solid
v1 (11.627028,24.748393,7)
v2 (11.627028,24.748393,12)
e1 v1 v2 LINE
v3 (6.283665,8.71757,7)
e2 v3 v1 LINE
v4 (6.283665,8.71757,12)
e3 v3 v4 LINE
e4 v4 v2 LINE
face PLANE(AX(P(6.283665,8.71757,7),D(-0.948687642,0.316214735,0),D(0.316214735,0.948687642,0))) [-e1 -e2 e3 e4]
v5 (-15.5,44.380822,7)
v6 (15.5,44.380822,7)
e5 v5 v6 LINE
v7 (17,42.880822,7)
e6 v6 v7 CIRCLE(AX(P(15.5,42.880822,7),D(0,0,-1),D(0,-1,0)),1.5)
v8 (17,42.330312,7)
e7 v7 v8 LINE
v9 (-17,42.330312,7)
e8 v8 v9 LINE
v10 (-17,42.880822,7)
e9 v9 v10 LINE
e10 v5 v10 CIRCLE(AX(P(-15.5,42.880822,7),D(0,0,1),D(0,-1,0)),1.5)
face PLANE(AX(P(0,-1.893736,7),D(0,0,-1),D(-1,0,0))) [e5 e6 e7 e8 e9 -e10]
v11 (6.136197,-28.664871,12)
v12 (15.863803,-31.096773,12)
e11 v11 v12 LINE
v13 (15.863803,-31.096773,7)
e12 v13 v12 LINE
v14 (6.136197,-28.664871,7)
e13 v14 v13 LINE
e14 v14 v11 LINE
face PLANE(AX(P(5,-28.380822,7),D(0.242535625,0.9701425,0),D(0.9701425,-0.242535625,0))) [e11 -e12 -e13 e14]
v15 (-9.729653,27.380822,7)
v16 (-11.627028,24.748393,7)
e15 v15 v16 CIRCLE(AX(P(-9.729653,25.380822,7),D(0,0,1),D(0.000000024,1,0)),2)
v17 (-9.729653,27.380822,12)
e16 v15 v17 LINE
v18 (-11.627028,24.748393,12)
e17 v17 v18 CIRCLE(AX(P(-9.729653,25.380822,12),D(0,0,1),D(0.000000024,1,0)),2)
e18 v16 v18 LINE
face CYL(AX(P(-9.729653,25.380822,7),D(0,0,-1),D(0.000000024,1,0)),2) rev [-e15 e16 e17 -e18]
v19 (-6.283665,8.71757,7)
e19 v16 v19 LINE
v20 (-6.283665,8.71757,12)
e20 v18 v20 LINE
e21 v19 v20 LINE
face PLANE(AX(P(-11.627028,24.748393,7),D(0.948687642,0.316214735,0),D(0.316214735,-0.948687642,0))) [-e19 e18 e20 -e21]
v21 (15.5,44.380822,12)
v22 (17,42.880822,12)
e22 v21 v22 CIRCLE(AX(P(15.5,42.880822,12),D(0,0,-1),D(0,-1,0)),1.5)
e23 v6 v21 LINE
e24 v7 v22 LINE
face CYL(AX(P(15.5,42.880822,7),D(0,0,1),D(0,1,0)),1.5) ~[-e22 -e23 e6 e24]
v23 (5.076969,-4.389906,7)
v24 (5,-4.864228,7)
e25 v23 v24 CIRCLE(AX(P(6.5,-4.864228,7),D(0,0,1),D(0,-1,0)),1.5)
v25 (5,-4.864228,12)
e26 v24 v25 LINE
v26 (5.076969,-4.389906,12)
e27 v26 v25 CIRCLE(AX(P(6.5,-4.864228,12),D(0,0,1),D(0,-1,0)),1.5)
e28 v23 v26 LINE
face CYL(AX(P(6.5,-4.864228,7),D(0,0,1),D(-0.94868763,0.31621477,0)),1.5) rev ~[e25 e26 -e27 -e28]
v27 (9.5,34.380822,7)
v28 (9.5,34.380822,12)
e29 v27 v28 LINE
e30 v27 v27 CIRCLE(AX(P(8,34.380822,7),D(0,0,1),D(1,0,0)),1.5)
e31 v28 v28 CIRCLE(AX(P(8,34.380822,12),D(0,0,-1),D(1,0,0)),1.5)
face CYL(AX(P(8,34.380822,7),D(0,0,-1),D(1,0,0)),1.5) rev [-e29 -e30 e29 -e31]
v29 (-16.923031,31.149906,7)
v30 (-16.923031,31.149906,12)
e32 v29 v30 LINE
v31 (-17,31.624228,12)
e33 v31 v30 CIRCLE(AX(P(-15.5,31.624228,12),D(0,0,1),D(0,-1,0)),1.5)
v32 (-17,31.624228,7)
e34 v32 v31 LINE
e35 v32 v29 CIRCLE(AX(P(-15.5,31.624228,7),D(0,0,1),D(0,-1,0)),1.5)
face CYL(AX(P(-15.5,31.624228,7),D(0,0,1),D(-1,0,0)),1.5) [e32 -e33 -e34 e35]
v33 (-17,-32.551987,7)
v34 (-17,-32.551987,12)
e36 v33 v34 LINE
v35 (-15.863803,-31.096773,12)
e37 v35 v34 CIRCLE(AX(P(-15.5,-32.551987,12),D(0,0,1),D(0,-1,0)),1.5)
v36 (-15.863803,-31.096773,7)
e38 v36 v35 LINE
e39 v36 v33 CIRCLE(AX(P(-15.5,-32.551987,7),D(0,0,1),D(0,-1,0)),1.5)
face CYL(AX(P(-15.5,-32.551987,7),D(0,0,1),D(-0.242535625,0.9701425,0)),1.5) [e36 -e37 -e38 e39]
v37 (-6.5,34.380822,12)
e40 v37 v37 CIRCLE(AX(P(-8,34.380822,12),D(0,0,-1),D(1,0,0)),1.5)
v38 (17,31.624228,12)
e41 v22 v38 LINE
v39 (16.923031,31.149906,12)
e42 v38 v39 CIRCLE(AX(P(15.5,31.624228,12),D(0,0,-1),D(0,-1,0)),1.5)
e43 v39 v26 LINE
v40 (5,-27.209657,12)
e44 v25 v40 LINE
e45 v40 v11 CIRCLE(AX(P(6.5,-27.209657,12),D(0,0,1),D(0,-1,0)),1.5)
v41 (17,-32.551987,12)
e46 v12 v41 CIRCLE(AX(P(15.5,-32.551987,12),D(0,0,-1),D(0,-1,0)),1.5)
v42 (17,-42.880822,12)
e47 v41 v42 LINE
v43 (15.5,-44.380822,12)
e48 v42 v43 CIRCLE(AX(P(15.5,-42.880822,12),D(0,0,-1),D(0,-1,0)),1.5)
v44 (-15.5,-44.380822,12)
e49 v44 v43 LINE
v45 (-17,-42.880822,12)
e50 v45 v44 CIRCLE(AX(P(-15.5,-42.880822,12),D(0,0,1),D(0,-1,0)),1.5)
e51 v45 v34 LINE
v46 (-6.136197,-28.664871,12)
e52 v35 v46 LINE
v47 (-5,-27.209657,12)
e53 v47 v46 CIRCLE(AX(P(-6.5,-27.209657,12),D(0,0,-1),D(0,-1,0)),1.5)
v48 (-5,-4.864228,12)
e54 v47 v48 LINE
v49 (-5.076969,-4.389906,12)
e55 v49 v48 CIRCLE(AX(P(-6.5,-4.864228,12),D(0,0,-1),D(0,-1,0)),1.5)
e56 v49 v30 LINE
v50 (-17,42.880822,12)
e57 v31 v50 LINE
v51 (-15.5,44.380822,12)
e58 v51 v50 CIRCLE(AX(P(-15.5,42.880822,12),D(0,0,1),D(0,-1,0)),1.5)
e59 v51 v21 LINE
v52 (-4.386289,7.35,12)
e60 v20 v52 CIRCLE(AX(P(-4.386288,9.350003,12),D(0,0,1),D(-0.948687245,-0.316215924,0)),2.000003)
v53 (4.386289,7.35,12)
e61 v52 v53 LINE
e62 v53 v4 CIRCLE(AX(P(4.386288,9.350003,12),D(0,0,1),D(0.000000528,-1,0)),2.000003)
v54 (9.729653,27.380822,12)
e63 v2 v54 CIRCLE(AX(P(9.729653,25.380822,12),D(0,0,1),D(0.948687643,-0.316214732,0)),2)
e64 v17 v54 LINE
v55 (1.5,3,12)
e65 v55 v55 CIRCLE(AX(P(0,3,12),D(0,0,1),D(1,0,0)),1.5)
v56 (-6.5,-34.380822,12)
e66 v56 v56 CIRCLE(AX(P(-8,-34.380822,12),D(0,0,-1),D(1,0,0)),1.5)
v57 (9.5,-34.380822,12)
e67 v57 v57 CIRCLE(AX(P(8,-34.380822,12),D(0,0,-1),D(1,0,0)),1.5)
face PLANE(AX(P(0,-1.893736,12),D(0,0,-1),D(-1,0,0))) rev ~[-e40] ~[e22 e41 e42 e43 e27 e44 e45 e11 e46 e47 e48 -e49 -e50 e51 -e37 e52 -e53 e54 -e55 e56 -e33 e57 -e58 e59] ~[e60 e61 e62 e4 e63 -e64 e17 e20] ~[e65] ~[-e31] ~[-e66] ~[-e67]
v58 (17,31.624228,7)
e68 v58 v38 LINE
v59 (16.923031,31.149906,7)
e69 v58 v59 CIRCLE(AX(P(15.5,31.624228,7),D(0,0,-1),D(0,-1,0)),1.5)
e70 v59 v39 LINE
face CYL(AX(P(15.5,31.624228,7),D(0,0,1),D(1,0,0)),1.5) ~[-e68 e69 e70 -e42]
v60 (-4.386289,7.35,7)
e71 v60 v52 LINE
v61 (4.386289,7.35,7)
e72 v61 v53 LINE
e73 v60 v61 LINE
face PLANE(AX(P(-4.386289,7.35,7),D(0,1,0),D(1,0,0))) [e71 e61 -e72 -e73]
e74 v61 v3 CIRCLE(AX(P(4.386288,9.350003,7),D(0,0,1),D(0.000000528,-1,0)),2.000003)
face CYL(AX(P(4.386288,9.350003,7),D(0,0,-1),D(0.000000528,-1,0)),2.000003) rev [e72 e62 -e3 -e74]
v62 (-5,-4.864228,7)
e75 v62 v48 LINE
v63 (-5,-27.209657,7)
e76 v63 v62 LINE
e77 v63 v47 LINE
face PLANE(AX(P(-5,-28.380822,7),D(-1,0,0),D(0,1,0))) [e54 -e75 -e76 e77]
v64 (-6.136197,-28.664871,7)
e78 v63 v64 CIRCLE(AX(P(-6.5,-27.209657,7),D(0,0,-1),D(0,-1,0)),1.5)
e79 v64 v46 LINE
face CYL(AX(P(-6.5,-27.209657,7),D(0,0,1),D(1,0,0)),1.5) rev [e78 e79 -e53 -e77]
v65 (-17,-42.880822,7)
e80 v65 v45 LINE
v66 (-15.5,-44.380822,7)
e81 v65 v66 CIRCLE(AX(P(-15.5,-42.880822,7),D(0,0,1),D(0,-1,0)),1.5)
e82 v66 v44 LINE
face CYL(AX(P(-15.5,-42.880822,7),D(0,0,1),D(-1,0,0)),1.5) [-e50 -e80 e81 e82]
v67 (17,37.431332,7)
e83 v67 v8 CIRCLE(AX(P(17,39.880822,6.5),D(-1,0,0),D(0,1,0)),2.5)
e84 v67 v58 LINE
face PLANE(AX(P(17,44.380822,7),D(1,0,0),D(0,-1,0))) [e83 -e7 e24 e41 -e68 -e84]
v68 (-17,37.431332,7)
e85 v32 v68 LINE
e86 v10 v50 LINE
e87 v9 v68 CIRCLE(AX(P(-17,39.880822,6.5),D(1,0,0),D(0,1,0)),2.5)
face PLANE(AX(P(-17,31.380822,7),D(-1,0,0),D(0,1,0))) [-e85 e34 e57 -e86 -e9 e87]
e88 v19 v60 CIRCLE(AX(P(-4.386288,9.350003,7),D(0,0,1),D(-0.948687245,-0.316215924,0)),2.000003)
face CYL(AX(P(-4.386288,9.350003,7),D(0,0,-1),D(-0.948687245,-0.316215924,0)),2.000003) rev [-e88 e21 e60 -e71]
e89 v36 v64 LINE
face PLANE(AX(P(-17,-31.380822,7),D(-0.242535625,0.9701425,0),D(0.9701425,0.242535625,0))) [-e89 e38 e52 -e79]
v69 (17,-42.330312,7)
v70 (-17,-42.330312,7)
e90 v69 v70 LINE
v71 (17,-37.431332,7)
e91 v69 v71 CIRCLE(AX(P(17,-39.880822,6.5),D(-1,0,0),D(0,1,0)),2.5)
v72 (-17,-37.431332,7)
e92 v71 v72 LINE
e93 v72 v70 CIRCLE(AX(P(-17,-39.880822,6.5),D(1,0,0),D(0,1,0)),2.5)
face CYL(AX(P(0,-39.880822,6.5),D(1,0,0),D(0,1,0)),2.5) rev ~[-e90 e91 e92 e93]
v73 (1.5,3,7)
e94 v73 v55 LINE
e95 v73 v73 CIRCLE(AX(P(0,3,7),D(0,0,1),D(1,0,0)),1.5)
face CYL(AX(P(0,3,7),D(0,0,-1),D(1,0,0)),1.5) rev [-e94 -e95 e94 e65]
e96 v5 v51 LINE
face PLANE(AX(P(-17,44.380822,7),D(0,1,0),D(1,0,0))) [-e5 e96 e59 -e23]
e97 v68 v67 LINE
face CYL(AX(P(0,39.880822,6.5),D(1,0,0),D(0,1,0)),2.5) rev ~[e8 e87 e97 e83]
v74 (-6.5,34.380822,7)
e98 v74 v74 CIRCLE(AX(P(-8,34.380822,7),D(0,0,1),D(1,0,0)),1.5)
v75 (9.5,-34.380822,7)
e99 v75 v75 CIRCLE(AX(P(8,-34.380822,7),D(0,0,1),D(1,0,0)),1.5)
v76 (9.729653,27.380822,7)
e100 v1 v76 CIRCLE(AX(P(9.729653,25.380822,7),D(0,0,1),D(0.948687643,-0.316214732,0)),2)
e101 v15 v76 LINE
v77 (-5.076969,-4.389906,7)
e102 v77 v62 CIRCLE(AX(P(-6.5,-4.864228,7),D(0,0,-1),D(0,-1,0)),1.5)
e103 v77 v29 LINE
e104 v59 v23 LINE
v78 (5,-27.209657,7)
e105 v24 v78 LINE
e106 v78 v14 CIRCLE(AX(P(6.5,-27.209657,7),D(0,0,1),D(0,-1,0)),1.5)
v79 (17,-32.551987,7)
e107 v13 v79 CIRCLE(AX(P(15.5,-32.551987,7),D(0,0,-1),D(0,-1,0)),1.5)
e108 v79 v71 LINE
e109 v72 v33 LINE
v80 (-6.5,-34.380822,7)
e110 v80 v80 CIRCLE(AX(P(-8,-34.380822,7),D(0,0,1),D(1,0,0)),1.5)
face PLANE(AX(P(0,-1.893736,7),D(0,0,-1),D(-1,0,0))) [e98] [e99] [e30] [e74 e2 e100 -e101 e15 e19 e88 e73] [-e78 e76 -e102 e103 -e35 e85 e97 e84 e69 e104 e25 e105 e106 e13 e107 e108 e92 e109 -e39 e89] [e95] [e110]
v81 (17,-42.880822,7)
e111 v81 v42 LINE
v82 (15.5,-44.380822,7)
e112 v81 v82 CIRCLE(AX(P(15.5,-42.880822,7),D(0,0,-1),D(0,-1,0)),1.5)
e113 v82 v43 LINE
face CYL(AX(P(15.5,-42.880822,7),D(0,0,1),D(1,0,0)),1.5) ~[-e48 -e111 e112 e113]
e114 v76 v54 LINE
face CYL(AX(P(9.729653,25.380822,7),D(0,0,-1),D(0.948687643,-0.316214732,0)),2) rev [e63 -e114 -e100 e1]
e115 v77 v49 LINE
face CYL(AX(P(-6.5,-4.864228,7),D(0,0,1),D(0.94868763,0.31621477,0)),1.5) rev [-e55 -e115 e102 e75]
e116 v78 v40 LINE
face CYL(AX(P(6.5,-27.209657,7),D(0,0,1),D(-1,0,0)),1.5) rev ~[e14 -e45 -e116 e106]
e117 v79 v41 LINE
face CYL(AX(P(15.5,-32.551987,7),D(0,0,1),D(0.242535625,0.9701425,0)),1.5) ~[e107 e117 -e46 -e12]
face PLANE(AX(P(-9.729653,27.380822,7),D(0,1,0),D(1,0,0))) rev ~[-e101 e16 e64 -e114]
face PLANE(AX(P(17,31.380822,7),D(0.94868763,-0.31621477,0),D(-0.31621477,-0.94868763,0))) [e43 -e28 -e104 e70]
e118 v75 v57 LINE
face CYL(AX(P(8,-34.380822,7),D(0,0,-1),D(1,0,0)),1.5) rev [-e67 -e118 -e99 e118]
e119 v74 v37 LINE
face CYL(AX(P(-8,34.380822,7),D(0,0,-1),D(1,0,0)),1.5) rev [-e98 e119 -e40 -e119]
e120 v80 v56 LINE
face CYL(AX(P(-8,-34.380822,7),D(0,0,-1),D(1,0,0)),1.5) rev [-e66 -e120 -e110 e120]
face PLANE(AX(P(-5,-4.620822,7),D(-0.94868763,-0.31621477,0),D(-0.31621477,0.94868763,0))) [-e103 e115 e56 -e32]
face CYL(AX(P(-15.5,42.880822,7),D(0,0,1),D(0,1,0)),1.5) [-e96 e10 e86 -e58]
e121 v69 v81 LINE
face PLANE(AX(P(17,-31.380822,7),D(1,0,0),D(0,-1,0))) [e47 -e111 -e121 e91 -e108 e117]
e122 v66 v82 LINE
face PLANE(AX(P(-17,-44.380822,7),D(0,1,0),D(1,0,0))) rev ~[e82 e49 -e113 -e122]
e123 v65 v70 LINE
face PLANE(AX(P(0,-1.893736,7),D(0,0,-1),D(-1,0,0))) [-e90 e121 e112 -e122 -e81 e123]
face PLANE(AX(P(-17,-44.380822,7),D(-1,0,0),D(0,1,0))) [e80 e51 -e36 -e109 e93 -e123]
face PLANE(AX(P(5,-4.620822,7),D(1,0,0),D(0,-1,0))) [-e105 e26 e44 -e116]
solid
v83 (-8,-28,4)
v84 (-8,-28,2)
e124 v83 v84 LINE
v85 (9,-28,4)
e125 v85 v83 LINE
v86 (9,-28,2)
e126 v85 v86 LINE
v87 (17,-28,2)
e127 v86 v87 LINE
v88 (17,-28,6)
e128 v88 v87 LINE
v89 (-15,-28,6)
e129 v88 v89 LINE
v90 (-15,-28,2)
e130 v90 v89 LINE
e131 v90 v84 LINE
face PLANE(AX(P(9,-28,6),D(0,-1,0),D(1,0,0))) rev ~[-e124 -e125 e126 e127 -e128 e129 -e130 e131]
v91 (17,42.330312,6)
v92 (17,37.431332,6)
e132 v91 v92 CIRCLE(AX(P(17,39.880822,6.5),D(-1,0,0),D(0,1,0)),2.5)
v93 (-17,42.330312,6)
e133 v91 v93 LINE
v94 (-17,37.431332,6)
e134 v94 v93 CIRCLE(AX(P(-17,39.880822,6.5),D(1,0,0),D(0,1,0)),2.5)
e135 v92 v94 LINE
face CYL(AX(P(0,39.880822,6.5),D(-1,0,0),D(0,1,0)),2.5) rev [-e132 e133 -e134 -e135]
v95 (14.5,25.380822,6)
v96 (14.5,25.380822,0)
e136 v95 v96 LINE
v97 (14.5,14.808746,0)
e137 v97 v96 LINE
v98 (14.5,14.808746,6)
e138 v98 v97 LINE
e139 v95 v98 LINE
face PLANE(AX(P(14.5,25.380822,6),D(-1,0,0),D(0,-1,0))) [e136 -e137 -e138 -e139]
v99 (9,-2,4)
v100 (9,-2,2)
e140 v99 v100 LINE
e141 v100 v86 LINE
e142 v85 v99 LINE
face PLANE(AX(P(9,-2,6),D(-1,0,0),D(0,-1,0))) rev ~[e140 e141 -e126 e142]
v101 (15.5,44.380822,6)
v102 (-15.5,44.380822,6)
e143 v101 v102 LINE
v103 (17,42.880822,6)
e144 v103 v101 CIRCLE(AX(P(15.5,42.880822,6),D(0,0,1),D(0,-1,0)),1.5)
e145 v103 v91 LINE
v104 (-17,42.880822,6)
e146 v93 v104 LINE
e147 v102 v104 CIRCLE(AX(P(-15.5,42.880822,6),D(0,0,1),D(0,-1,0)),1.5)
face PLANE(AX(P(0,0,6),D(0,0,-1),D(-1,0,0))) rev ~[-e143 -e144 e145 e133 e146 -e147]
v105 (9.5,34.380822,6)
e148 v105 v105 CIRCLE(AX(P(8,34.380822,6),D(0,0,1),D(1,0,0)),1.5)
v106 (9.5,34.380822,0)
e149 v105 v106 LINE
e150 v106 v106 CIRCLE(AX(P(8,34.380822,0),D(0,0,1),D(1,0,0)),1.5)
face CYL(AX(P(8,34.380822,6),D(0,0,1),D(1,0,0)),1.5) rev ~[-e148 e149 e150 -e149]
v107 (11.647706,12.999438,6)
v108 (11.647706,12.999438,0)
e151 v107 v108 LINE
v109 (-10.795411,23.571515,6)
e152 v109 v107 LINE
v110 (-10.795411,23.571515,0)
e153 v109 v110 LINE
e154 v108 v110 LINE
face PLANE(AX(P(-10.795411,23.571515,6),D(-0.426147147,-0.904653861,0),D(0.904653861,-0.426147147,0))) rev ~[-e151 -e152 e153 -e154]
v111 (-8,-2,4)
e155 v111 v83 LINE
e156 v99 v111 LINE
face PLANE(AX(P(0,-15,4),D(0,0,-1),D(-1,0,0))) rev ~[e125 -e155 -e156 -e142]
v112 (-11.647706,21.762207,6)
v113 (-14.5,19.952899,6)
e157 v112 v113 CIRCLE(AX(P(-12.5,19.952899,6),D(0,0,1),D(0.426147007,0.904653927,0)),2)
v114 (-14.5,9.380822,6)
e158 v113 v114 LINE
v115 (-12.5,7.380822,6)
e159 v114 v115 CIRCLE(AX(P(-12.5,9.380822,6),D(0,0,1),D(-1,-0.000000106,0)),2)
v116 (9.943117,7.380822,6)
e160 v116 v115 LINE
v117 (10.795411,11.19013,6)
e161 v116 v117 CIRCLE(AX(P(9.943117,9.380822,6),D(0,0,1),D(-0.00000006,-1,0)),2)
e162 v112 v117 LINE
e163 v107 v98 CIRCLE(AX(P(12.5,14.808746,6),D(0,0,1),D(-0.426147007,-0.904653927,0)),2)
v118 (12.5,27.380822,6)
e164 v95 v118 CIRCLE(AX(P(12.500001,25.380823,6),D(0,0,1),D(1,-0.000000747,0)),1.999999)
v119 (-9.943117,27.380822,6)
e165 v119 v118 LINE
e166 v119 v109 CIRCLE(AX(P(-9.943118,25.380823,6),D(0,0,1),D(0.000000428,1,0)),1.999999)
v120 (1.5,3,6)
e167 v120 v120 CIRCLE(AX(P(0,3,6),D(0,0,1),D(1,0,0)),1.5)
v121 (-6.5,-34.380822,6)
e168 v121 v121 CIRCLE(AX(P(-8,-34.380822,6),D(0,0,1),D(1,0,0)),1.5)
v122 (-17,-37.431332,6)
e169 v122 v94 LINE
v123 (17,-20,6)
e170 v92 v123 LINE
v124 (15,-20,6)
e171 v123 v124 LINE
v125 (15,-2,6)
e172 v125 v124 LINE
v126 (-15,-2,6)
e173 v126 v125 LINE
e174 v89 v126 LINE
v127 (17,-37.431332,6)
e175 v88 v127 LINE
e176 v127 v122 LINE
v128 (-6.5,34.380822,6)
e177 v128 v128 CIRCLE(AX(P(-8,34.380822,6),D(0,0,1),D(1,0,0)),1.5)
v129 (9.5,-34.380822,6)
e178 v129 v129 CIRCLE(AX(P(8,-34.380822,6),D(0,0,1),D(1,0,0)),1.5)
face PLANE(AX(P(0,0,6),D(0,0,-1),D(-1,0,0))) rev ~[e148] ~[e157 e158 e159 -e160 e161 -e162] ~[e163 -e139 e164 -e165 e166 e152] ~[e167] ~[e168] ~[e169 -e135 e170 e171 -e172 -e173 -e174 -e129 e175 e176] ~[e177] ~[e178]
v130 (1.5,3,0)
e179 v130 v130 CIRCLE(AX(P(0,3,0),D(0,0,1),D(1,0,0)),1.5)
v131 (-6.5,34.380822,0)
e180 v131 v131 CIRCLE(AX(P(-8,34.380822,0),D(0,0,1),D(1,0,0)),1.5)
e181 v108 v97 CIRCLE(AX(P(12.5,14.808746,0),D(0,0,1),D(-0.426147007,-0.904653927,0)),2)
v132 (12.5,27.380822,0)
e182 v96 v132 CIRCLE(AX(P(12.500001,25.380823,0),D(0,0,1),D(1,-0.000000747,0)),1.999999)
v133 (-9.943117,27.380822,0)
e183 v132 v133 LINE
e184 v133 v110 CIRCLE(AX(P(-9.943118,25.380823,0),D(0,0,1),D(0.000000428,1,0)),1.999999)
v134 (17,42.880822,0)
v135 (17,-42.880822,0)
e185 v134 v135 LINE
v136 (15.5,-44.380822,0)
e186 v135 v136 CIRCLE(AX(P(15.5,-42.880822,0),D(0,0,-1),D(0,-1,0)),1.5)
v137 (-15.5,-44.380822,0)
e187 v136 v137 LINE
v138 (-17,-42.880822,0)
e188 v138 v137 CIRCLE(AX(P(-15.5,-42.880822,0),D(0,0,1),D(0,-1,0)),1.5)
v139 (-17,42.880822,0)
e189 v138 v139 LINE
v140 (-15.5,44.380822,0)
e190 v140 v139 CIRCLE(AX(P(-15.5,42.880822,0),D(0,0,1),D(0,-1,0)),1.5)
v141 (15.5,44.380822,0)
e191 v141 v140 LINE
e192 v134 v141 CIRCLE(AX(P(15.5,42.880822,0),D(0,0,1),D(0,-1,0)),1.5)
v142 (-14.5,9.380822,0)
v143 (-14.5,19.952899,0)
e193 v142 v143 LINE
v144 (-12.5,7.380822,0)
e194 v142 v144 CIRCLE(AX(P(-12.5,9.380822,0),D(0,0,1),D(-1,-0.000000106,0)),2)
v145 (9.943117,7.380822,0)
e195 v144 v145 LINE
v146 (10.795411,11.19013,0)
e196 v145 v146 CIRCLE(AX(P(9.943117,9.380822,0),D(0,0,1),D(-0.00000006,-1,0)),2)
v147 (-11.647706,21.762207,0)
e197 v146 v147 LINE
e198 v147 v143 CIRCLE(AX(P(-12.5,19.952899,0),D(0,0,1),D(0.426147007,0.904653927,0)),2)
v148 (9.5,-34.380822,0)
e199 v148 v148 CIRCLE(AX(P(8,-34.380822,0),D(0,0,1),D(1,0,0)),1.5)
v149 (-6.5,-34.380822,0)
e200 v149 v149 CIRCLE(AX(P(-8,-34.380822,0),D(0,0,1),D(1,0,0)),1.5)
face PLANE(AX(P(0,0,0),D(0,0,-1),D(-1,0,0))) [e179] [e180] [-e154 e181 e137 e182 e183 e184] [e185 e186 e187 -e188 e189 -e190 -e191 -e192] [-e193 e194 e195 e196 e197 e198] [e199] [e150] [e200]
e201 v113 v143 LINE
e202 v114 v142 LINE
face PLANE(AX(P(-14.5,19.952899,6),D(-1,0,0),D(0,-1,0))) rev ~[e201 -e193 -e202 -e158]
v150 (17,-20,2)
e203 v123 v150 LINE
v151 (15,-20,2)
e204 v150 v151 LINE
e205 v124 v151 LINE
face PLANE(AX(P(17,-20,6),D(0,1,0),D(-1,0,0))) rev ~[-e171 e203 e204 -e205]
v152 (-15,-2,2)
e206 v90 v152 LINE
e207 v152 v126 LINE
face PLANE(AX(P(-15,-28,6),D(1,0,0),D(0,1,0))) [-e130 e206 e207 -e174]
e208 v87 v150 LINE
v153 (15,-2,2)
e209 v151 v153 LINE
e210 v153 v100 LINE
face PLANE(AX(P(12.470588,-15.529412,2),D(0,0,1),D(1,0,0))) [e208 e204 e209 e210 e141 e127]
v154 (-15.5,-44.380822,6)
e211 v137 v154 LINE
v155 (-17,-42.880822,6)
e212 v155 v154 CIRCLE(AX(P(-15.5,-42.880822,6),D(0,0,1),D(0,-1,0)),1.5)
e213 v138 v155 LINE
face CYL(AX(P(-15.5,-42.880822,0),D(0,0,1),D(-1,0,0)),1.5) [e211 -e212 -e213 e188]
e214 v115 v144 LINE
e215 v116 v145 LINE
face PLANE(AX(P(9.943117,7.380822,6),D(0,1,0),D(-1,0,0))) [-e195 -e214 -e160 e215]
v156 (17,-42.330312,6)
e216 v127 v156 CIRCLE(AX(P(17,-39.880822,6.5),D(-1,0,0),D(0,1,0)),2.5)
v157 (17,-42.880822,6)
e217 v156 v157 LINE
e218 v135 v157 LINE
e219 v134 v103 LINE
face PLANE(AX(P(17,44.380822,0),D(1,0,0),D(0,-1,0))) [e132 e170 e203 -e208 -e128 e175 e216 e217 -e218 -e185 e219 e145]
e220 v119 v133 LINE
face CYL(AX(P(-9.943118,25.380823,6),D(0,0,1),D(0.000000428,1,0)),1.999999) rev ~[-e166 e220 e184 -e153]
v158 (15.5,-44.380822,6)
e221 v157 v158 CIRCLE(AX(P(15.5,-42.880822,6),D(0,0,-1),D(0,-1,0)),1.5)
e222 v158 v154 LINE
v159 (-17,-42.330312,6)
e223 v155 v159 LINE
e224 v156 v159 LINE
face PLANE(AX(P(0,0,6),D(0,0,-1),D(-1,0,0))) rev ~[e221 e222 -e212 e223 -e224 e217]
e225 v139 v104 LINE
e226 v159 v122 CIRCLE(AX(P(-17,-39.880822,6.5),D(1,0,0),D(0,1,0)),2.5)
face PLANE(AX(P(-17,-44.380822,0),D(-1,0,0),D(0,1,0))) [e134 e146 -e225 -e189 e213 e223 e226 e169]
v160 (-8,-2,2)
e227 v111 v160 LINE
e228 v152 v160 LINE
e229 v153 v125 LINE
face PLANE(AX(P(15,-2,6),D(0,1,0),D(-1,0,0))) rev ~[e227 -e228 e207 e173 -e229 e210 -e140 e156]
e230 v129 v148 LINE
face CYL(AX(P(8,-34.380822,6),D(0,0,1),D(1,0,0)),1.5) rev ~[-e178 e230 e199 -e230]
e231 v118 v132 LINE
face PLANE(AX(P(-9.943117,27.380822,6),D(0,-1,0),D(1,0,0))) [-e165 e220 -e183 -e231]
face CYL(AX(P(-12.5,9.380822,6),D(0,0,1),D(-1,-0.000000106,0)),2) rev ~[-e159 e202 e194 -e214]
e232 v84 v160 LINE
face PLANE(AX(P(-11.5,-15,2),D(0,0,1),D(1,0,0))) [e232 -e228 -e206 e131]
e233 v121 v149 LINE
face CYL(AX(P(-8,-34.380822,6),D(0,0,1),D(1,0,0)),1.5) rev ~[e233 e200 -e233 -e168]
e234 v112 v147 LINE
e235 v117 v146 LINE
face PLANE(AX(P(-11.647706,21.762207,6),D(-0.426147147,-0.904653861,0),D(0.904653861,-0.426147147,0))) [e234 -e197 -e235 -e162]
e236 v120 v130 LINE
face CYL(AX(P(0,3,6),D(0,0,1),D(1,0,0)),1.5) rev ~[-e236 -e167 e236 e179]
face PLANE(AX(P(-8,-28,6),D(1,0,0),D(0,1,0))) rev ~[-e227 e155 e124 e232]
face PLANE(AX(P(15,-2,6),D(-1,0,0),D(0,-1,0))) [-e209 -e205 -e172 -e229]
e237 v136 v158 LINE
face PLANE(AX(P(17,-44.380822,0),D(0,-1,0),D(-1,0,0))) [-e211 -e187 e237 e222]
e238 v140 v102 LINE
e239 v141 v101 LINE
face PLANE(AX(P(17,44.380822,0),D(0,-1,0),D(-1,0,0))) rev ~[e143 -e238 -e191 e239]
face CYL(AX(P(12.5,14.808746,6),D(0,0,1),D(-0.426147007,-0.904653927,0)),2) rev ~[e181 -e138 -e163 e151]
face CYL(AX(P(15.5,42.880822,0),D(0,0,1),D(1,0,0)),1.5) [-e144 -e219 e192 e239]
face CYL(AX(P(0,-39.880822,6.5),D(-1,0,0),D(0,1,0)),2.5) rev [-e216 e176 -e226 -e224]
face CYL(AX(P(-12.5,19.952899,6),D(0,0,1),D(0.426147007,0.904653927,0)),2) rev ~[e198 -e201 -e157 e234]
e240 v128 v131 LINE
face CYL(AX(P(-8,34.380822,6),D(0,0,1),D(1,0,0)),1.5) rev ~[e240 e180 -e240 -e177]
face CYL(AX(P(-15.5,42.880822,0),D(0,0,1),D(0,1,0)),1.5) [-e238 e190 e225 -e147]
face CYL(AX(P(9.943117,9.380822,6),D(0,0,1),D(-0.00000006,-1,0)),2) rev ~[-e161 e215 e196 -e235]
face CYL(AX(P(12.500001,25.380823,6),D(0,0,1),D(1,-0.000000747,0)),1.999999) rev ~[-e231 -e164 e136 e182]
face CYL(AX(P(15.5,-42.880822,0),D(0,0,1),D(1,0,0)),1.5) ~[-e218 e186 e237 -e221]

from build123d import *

# Parameters (mm, degrees)
PAD_DEPTH            = 6
POCKET_DEPTH         = 2
SKETCH002_W          = 7
SKETCH002_H          = 26
POCKET001_DEPTH      = 4
SKETCH003_R          = 1.5
POCKET002_DEPTH      = 6.001
SKETCH004_R          = 2.5
POCKET003_DEPTH      = 17.001
POCKET003_DEPTH_BACK = -17.001
FILLET_R             = 1.5
SKETCH005_R          = 1.5
POCKET004_DEPTH      = 6.001
SKETCH006_R          = 1.5
PAD001_DEPTH         = 5
SKETCH007_R          = 2.5
POCKET005_DEPTH      = 17.001
POCKET005_DEPTH_BACK = -17.001
SKETCH009_R          = 1.5
POCKET006_DEPTH      = 0.001
POCKET006_DEPTH_BACK = -5.001
FILLET001_R          = 1.5


with BuildPart() as body:
    # Sketch → Pad (new body)
    with BuildSketch(Plane.XY):
        Polygon((17, 44.380822), (17, -44.380822), (-17, -44.380822), (-17, 44.380822), (0, 44.380822), align=None)
    extrude(amount=PAD_DEPTH)

    # Sketch001 (on DatumPlane) → Pocket (cut)
    with BuildSketch(Plane.XY.offset(6)):
        Polygon((15, -2), (15, -28), (-15, -28), (-15, -2), (0, -2), align=None)
    extrude(amount=-POCKET_DEPTH, mode=Mode.SUBTRACT)

    # Sketch002 (on DatumPlane) → Pocket001 (cut)
    with BuildSketch(Plane.XY.offset(6)):
        with Locations((-11.5, -15)):
            Rectangle(SKETCH002_W, SKETCH002_H)
        Polygon((15, -2), (9, -2), (9, -28), (17, -28), (17, -20), (15, -20), align=None)
    extrude(amount=-POCKET001_DEPTH, mode=Mode.SUBTRACT)

    # Sketch003 (on DatumPlane) → Pocket002 (cut, through all)
    with BuildSketch(Plane.XY.offset(6)):
        with Locations((-8, 34.380822)):
            Circle(SKETCH003_R)
        with Locations((8, 34.380822)):
            Circle(SKETCH003_R)
        with Locations((-8, -34.380822)):
            Circle(SKETCH003_R)
        with Locations((8, -34.380822)):
            Circle(SKETCH003_R)
    extrude(amount=-POCKET002_DEPTH, mode=Mode.SUBTRACT)

    # Sketch004 (on DatumPlane) → Pocket003 (cut, two sides)
    with BuildSketch(Plane.YZ) as pocket003_sk:
        with Locations((-39.880822, 6.5)):
            Circle(SKETCH004_R)
        with Locations((39.880822, 6.5)):
            Circle(SKETCH004_R)
    extrude(amount=-POCKET003_DEPTH, mode=Mode.SUBTRACT)
    extrude(pocket003_sk.sketch, amount=-POCKET003_DEPTH_BACK, mode=Mode.SUBTRACT)

    # Fillet
    fillet_edges = [body.edges().sort_by_distance(p)[0] for p in [
        (17, -44.380822, 3),
        (-17, -44.380822, 3),
        (17, 44.380822, 3),
        (-17, 44.380822, 3),
    ]]
    fillet(fillet_edges, radius=FILLET_R)

    # Sketch005 (on DatumPlane) → Pocket004 (cut, through all)
    with BuildSketch(Plane.XY.offset(6)):
        with Locations((0, 3)):
            Circle(SKETCH005_R)
        with BuildLine():
            Line((-9.943117, 27.380822), (12.5, 27.380822))
            ThreePointArc((14.5, 25.380822), (13.914214, 26.795036), (12.5, 27.380822))
            Line((14.5, 25.380822), (14.5, 14.808746))
            ThreePointArc((11.647706, 12.999438), (13.57131, 13.119872), (14.5, 14.808746))
            Line((-10.795411, 23.571515), (11.647706, 12.999438))
            ThreePointArc((-9.943117, 27.380822), (-11.894862, 25.817506), (-10.795411, 23.571515))
        make_face()
        with BuildLine():
            Line((-11.647706, 21.762207), (10.795411, 11.19013))
            ThreePointArc((9.943117, 7.380822), (11.894862, 8.944139), (10.795411, 11.19013))
            Line((9.943117, 7.380822), (-12.5, 7.380822))
            ThreePointArc((-14.5, 9.380822), (-13.914214, 7.966609), (-12.5, 7.380822))
            Line((-14.5, 19.952899), (-14.5, 9.380822))
            ThreePointArc((-11.647706, 21.762207), (-13.57131, 21.641773), (-14.5, 19.952899))
        make_face()
    extrude(amount=-POCKET004_DEPTH, mode=Mode.SUBTRACT)


with BuildPart() as body001:
    # Sketch006 (on DatumPlane) → Pad001 (new body)
    with BuildSketch(Plane.XY.offset(7)):
        Polygon((-17, 44.380822), (17, 44.380822), (17, 31.380822), (5, -4.620822), (5, -28.380822), (17, -31.380822), (17, -44.380822), (0, -44.380822), (-17, -44.380822), (-17, -31.380822), (-5, -28.380822), (-5, -4.620822), (-17, 31.380822), align=None)
        with Locations((0, 3)):
            Circle(SKETCH006_R, mode=Mode.SUBTRACT)
        with BuildLine():
            Line((-9.729653, 27.380822), (9.729653, 27.380822))
            ThreePointArc((11.627028, 24.748393), (11.352129, 26.550254), (9.729653, 27.380822))
            Line((6.283665, 8.71757), (11.627028, 24.748393))
            ThreePointArc((4.386289, 7.35), (5.555721, 7.727524), (6.283665, 8.71757))
            Line((-4.386289, 7.35), (4.386289, 7.35))
            ThreePointArc((-6.283665, 8.71757), (-5.555721, 7.727524), (-4.386289, 7.35))
            Line((-11.627028, 24.748393), (-6.283665, 8.71757))
            ThreePointArc((-9.729653, 27.380822), (-11.352129, 26.550254), (-11.627028, 24.748393))
        make_face(mode=Mode.SUBTRACT)
    extrude(amount=PAD001_DEPTH)

    # Sketch007 (on DatumPlane) → Pocket005 (cut, two sides)
    with BuildSketch(Plane.YZ) as pocket005_sk:
        with Locations((-39.880822, 6.5)):
            Circle(SKETCH007_R)
        with Locations((39.880822, 6.5)):
            Circle(SKETCH007_R)
    extrude(amount=-POCKET005_DEPTH, mode=Mode.SUBTRACT)
    extrude(pocket005_sk.sketch, amount=-POCKET005_DEPTH_BACK, mode=Mode.SUBTRACT)

    # Sketch009 (on DatumPlane) → Pocket006 (cut, two sides)
    with BuildSketch(Plane.XY.offset(7)) as pocket006_sk:
        with Locations((-8, 34.380822)):
            Circle(SKETCH009_R)
        with Locations((8, 34.380822)):
            Circle(SKETCH009_R)
        with Locations((-8, -34.380822)):
            Circle(SKETCH009_R)
        with Locations((8, -34.380822)):
            Circle(SKETCH009_R)
    extrude(amount=-POCKET006_DEPTH, mode=Mode.SUBTRACT)
    extrude(pocket006_sk.sketch, amount=-POCKET006_DEPTH_BACK, mode=Mode.SUBTRACT)

    # Fillet001
    fillet001_edges = [body001.edges().sort_by_distance(p)[0] for p in [
        (5, -4.620822, 9.5),
        (5, -28.380822, 9.5),
        (17, -31.380822, 9.5),
        (17, 31.380822, 9.5),
        (17, -44.380822, 9.5),
        (17, 44.380822, 9.5),
        (-17, 44.380822, 9.5),
        (-17, 31.380822, 9.5),
        (-5, -4.620822, 9.5),
        (-5, -28.380822, 9.5),
        (-17, -31.380822, 9.5),
        (-17, -44.380822, 9.5),
    ]]
    fillet(fillet001_edges, radius=FILLET001_R)


solid = Compound([body.part, body001.part])
